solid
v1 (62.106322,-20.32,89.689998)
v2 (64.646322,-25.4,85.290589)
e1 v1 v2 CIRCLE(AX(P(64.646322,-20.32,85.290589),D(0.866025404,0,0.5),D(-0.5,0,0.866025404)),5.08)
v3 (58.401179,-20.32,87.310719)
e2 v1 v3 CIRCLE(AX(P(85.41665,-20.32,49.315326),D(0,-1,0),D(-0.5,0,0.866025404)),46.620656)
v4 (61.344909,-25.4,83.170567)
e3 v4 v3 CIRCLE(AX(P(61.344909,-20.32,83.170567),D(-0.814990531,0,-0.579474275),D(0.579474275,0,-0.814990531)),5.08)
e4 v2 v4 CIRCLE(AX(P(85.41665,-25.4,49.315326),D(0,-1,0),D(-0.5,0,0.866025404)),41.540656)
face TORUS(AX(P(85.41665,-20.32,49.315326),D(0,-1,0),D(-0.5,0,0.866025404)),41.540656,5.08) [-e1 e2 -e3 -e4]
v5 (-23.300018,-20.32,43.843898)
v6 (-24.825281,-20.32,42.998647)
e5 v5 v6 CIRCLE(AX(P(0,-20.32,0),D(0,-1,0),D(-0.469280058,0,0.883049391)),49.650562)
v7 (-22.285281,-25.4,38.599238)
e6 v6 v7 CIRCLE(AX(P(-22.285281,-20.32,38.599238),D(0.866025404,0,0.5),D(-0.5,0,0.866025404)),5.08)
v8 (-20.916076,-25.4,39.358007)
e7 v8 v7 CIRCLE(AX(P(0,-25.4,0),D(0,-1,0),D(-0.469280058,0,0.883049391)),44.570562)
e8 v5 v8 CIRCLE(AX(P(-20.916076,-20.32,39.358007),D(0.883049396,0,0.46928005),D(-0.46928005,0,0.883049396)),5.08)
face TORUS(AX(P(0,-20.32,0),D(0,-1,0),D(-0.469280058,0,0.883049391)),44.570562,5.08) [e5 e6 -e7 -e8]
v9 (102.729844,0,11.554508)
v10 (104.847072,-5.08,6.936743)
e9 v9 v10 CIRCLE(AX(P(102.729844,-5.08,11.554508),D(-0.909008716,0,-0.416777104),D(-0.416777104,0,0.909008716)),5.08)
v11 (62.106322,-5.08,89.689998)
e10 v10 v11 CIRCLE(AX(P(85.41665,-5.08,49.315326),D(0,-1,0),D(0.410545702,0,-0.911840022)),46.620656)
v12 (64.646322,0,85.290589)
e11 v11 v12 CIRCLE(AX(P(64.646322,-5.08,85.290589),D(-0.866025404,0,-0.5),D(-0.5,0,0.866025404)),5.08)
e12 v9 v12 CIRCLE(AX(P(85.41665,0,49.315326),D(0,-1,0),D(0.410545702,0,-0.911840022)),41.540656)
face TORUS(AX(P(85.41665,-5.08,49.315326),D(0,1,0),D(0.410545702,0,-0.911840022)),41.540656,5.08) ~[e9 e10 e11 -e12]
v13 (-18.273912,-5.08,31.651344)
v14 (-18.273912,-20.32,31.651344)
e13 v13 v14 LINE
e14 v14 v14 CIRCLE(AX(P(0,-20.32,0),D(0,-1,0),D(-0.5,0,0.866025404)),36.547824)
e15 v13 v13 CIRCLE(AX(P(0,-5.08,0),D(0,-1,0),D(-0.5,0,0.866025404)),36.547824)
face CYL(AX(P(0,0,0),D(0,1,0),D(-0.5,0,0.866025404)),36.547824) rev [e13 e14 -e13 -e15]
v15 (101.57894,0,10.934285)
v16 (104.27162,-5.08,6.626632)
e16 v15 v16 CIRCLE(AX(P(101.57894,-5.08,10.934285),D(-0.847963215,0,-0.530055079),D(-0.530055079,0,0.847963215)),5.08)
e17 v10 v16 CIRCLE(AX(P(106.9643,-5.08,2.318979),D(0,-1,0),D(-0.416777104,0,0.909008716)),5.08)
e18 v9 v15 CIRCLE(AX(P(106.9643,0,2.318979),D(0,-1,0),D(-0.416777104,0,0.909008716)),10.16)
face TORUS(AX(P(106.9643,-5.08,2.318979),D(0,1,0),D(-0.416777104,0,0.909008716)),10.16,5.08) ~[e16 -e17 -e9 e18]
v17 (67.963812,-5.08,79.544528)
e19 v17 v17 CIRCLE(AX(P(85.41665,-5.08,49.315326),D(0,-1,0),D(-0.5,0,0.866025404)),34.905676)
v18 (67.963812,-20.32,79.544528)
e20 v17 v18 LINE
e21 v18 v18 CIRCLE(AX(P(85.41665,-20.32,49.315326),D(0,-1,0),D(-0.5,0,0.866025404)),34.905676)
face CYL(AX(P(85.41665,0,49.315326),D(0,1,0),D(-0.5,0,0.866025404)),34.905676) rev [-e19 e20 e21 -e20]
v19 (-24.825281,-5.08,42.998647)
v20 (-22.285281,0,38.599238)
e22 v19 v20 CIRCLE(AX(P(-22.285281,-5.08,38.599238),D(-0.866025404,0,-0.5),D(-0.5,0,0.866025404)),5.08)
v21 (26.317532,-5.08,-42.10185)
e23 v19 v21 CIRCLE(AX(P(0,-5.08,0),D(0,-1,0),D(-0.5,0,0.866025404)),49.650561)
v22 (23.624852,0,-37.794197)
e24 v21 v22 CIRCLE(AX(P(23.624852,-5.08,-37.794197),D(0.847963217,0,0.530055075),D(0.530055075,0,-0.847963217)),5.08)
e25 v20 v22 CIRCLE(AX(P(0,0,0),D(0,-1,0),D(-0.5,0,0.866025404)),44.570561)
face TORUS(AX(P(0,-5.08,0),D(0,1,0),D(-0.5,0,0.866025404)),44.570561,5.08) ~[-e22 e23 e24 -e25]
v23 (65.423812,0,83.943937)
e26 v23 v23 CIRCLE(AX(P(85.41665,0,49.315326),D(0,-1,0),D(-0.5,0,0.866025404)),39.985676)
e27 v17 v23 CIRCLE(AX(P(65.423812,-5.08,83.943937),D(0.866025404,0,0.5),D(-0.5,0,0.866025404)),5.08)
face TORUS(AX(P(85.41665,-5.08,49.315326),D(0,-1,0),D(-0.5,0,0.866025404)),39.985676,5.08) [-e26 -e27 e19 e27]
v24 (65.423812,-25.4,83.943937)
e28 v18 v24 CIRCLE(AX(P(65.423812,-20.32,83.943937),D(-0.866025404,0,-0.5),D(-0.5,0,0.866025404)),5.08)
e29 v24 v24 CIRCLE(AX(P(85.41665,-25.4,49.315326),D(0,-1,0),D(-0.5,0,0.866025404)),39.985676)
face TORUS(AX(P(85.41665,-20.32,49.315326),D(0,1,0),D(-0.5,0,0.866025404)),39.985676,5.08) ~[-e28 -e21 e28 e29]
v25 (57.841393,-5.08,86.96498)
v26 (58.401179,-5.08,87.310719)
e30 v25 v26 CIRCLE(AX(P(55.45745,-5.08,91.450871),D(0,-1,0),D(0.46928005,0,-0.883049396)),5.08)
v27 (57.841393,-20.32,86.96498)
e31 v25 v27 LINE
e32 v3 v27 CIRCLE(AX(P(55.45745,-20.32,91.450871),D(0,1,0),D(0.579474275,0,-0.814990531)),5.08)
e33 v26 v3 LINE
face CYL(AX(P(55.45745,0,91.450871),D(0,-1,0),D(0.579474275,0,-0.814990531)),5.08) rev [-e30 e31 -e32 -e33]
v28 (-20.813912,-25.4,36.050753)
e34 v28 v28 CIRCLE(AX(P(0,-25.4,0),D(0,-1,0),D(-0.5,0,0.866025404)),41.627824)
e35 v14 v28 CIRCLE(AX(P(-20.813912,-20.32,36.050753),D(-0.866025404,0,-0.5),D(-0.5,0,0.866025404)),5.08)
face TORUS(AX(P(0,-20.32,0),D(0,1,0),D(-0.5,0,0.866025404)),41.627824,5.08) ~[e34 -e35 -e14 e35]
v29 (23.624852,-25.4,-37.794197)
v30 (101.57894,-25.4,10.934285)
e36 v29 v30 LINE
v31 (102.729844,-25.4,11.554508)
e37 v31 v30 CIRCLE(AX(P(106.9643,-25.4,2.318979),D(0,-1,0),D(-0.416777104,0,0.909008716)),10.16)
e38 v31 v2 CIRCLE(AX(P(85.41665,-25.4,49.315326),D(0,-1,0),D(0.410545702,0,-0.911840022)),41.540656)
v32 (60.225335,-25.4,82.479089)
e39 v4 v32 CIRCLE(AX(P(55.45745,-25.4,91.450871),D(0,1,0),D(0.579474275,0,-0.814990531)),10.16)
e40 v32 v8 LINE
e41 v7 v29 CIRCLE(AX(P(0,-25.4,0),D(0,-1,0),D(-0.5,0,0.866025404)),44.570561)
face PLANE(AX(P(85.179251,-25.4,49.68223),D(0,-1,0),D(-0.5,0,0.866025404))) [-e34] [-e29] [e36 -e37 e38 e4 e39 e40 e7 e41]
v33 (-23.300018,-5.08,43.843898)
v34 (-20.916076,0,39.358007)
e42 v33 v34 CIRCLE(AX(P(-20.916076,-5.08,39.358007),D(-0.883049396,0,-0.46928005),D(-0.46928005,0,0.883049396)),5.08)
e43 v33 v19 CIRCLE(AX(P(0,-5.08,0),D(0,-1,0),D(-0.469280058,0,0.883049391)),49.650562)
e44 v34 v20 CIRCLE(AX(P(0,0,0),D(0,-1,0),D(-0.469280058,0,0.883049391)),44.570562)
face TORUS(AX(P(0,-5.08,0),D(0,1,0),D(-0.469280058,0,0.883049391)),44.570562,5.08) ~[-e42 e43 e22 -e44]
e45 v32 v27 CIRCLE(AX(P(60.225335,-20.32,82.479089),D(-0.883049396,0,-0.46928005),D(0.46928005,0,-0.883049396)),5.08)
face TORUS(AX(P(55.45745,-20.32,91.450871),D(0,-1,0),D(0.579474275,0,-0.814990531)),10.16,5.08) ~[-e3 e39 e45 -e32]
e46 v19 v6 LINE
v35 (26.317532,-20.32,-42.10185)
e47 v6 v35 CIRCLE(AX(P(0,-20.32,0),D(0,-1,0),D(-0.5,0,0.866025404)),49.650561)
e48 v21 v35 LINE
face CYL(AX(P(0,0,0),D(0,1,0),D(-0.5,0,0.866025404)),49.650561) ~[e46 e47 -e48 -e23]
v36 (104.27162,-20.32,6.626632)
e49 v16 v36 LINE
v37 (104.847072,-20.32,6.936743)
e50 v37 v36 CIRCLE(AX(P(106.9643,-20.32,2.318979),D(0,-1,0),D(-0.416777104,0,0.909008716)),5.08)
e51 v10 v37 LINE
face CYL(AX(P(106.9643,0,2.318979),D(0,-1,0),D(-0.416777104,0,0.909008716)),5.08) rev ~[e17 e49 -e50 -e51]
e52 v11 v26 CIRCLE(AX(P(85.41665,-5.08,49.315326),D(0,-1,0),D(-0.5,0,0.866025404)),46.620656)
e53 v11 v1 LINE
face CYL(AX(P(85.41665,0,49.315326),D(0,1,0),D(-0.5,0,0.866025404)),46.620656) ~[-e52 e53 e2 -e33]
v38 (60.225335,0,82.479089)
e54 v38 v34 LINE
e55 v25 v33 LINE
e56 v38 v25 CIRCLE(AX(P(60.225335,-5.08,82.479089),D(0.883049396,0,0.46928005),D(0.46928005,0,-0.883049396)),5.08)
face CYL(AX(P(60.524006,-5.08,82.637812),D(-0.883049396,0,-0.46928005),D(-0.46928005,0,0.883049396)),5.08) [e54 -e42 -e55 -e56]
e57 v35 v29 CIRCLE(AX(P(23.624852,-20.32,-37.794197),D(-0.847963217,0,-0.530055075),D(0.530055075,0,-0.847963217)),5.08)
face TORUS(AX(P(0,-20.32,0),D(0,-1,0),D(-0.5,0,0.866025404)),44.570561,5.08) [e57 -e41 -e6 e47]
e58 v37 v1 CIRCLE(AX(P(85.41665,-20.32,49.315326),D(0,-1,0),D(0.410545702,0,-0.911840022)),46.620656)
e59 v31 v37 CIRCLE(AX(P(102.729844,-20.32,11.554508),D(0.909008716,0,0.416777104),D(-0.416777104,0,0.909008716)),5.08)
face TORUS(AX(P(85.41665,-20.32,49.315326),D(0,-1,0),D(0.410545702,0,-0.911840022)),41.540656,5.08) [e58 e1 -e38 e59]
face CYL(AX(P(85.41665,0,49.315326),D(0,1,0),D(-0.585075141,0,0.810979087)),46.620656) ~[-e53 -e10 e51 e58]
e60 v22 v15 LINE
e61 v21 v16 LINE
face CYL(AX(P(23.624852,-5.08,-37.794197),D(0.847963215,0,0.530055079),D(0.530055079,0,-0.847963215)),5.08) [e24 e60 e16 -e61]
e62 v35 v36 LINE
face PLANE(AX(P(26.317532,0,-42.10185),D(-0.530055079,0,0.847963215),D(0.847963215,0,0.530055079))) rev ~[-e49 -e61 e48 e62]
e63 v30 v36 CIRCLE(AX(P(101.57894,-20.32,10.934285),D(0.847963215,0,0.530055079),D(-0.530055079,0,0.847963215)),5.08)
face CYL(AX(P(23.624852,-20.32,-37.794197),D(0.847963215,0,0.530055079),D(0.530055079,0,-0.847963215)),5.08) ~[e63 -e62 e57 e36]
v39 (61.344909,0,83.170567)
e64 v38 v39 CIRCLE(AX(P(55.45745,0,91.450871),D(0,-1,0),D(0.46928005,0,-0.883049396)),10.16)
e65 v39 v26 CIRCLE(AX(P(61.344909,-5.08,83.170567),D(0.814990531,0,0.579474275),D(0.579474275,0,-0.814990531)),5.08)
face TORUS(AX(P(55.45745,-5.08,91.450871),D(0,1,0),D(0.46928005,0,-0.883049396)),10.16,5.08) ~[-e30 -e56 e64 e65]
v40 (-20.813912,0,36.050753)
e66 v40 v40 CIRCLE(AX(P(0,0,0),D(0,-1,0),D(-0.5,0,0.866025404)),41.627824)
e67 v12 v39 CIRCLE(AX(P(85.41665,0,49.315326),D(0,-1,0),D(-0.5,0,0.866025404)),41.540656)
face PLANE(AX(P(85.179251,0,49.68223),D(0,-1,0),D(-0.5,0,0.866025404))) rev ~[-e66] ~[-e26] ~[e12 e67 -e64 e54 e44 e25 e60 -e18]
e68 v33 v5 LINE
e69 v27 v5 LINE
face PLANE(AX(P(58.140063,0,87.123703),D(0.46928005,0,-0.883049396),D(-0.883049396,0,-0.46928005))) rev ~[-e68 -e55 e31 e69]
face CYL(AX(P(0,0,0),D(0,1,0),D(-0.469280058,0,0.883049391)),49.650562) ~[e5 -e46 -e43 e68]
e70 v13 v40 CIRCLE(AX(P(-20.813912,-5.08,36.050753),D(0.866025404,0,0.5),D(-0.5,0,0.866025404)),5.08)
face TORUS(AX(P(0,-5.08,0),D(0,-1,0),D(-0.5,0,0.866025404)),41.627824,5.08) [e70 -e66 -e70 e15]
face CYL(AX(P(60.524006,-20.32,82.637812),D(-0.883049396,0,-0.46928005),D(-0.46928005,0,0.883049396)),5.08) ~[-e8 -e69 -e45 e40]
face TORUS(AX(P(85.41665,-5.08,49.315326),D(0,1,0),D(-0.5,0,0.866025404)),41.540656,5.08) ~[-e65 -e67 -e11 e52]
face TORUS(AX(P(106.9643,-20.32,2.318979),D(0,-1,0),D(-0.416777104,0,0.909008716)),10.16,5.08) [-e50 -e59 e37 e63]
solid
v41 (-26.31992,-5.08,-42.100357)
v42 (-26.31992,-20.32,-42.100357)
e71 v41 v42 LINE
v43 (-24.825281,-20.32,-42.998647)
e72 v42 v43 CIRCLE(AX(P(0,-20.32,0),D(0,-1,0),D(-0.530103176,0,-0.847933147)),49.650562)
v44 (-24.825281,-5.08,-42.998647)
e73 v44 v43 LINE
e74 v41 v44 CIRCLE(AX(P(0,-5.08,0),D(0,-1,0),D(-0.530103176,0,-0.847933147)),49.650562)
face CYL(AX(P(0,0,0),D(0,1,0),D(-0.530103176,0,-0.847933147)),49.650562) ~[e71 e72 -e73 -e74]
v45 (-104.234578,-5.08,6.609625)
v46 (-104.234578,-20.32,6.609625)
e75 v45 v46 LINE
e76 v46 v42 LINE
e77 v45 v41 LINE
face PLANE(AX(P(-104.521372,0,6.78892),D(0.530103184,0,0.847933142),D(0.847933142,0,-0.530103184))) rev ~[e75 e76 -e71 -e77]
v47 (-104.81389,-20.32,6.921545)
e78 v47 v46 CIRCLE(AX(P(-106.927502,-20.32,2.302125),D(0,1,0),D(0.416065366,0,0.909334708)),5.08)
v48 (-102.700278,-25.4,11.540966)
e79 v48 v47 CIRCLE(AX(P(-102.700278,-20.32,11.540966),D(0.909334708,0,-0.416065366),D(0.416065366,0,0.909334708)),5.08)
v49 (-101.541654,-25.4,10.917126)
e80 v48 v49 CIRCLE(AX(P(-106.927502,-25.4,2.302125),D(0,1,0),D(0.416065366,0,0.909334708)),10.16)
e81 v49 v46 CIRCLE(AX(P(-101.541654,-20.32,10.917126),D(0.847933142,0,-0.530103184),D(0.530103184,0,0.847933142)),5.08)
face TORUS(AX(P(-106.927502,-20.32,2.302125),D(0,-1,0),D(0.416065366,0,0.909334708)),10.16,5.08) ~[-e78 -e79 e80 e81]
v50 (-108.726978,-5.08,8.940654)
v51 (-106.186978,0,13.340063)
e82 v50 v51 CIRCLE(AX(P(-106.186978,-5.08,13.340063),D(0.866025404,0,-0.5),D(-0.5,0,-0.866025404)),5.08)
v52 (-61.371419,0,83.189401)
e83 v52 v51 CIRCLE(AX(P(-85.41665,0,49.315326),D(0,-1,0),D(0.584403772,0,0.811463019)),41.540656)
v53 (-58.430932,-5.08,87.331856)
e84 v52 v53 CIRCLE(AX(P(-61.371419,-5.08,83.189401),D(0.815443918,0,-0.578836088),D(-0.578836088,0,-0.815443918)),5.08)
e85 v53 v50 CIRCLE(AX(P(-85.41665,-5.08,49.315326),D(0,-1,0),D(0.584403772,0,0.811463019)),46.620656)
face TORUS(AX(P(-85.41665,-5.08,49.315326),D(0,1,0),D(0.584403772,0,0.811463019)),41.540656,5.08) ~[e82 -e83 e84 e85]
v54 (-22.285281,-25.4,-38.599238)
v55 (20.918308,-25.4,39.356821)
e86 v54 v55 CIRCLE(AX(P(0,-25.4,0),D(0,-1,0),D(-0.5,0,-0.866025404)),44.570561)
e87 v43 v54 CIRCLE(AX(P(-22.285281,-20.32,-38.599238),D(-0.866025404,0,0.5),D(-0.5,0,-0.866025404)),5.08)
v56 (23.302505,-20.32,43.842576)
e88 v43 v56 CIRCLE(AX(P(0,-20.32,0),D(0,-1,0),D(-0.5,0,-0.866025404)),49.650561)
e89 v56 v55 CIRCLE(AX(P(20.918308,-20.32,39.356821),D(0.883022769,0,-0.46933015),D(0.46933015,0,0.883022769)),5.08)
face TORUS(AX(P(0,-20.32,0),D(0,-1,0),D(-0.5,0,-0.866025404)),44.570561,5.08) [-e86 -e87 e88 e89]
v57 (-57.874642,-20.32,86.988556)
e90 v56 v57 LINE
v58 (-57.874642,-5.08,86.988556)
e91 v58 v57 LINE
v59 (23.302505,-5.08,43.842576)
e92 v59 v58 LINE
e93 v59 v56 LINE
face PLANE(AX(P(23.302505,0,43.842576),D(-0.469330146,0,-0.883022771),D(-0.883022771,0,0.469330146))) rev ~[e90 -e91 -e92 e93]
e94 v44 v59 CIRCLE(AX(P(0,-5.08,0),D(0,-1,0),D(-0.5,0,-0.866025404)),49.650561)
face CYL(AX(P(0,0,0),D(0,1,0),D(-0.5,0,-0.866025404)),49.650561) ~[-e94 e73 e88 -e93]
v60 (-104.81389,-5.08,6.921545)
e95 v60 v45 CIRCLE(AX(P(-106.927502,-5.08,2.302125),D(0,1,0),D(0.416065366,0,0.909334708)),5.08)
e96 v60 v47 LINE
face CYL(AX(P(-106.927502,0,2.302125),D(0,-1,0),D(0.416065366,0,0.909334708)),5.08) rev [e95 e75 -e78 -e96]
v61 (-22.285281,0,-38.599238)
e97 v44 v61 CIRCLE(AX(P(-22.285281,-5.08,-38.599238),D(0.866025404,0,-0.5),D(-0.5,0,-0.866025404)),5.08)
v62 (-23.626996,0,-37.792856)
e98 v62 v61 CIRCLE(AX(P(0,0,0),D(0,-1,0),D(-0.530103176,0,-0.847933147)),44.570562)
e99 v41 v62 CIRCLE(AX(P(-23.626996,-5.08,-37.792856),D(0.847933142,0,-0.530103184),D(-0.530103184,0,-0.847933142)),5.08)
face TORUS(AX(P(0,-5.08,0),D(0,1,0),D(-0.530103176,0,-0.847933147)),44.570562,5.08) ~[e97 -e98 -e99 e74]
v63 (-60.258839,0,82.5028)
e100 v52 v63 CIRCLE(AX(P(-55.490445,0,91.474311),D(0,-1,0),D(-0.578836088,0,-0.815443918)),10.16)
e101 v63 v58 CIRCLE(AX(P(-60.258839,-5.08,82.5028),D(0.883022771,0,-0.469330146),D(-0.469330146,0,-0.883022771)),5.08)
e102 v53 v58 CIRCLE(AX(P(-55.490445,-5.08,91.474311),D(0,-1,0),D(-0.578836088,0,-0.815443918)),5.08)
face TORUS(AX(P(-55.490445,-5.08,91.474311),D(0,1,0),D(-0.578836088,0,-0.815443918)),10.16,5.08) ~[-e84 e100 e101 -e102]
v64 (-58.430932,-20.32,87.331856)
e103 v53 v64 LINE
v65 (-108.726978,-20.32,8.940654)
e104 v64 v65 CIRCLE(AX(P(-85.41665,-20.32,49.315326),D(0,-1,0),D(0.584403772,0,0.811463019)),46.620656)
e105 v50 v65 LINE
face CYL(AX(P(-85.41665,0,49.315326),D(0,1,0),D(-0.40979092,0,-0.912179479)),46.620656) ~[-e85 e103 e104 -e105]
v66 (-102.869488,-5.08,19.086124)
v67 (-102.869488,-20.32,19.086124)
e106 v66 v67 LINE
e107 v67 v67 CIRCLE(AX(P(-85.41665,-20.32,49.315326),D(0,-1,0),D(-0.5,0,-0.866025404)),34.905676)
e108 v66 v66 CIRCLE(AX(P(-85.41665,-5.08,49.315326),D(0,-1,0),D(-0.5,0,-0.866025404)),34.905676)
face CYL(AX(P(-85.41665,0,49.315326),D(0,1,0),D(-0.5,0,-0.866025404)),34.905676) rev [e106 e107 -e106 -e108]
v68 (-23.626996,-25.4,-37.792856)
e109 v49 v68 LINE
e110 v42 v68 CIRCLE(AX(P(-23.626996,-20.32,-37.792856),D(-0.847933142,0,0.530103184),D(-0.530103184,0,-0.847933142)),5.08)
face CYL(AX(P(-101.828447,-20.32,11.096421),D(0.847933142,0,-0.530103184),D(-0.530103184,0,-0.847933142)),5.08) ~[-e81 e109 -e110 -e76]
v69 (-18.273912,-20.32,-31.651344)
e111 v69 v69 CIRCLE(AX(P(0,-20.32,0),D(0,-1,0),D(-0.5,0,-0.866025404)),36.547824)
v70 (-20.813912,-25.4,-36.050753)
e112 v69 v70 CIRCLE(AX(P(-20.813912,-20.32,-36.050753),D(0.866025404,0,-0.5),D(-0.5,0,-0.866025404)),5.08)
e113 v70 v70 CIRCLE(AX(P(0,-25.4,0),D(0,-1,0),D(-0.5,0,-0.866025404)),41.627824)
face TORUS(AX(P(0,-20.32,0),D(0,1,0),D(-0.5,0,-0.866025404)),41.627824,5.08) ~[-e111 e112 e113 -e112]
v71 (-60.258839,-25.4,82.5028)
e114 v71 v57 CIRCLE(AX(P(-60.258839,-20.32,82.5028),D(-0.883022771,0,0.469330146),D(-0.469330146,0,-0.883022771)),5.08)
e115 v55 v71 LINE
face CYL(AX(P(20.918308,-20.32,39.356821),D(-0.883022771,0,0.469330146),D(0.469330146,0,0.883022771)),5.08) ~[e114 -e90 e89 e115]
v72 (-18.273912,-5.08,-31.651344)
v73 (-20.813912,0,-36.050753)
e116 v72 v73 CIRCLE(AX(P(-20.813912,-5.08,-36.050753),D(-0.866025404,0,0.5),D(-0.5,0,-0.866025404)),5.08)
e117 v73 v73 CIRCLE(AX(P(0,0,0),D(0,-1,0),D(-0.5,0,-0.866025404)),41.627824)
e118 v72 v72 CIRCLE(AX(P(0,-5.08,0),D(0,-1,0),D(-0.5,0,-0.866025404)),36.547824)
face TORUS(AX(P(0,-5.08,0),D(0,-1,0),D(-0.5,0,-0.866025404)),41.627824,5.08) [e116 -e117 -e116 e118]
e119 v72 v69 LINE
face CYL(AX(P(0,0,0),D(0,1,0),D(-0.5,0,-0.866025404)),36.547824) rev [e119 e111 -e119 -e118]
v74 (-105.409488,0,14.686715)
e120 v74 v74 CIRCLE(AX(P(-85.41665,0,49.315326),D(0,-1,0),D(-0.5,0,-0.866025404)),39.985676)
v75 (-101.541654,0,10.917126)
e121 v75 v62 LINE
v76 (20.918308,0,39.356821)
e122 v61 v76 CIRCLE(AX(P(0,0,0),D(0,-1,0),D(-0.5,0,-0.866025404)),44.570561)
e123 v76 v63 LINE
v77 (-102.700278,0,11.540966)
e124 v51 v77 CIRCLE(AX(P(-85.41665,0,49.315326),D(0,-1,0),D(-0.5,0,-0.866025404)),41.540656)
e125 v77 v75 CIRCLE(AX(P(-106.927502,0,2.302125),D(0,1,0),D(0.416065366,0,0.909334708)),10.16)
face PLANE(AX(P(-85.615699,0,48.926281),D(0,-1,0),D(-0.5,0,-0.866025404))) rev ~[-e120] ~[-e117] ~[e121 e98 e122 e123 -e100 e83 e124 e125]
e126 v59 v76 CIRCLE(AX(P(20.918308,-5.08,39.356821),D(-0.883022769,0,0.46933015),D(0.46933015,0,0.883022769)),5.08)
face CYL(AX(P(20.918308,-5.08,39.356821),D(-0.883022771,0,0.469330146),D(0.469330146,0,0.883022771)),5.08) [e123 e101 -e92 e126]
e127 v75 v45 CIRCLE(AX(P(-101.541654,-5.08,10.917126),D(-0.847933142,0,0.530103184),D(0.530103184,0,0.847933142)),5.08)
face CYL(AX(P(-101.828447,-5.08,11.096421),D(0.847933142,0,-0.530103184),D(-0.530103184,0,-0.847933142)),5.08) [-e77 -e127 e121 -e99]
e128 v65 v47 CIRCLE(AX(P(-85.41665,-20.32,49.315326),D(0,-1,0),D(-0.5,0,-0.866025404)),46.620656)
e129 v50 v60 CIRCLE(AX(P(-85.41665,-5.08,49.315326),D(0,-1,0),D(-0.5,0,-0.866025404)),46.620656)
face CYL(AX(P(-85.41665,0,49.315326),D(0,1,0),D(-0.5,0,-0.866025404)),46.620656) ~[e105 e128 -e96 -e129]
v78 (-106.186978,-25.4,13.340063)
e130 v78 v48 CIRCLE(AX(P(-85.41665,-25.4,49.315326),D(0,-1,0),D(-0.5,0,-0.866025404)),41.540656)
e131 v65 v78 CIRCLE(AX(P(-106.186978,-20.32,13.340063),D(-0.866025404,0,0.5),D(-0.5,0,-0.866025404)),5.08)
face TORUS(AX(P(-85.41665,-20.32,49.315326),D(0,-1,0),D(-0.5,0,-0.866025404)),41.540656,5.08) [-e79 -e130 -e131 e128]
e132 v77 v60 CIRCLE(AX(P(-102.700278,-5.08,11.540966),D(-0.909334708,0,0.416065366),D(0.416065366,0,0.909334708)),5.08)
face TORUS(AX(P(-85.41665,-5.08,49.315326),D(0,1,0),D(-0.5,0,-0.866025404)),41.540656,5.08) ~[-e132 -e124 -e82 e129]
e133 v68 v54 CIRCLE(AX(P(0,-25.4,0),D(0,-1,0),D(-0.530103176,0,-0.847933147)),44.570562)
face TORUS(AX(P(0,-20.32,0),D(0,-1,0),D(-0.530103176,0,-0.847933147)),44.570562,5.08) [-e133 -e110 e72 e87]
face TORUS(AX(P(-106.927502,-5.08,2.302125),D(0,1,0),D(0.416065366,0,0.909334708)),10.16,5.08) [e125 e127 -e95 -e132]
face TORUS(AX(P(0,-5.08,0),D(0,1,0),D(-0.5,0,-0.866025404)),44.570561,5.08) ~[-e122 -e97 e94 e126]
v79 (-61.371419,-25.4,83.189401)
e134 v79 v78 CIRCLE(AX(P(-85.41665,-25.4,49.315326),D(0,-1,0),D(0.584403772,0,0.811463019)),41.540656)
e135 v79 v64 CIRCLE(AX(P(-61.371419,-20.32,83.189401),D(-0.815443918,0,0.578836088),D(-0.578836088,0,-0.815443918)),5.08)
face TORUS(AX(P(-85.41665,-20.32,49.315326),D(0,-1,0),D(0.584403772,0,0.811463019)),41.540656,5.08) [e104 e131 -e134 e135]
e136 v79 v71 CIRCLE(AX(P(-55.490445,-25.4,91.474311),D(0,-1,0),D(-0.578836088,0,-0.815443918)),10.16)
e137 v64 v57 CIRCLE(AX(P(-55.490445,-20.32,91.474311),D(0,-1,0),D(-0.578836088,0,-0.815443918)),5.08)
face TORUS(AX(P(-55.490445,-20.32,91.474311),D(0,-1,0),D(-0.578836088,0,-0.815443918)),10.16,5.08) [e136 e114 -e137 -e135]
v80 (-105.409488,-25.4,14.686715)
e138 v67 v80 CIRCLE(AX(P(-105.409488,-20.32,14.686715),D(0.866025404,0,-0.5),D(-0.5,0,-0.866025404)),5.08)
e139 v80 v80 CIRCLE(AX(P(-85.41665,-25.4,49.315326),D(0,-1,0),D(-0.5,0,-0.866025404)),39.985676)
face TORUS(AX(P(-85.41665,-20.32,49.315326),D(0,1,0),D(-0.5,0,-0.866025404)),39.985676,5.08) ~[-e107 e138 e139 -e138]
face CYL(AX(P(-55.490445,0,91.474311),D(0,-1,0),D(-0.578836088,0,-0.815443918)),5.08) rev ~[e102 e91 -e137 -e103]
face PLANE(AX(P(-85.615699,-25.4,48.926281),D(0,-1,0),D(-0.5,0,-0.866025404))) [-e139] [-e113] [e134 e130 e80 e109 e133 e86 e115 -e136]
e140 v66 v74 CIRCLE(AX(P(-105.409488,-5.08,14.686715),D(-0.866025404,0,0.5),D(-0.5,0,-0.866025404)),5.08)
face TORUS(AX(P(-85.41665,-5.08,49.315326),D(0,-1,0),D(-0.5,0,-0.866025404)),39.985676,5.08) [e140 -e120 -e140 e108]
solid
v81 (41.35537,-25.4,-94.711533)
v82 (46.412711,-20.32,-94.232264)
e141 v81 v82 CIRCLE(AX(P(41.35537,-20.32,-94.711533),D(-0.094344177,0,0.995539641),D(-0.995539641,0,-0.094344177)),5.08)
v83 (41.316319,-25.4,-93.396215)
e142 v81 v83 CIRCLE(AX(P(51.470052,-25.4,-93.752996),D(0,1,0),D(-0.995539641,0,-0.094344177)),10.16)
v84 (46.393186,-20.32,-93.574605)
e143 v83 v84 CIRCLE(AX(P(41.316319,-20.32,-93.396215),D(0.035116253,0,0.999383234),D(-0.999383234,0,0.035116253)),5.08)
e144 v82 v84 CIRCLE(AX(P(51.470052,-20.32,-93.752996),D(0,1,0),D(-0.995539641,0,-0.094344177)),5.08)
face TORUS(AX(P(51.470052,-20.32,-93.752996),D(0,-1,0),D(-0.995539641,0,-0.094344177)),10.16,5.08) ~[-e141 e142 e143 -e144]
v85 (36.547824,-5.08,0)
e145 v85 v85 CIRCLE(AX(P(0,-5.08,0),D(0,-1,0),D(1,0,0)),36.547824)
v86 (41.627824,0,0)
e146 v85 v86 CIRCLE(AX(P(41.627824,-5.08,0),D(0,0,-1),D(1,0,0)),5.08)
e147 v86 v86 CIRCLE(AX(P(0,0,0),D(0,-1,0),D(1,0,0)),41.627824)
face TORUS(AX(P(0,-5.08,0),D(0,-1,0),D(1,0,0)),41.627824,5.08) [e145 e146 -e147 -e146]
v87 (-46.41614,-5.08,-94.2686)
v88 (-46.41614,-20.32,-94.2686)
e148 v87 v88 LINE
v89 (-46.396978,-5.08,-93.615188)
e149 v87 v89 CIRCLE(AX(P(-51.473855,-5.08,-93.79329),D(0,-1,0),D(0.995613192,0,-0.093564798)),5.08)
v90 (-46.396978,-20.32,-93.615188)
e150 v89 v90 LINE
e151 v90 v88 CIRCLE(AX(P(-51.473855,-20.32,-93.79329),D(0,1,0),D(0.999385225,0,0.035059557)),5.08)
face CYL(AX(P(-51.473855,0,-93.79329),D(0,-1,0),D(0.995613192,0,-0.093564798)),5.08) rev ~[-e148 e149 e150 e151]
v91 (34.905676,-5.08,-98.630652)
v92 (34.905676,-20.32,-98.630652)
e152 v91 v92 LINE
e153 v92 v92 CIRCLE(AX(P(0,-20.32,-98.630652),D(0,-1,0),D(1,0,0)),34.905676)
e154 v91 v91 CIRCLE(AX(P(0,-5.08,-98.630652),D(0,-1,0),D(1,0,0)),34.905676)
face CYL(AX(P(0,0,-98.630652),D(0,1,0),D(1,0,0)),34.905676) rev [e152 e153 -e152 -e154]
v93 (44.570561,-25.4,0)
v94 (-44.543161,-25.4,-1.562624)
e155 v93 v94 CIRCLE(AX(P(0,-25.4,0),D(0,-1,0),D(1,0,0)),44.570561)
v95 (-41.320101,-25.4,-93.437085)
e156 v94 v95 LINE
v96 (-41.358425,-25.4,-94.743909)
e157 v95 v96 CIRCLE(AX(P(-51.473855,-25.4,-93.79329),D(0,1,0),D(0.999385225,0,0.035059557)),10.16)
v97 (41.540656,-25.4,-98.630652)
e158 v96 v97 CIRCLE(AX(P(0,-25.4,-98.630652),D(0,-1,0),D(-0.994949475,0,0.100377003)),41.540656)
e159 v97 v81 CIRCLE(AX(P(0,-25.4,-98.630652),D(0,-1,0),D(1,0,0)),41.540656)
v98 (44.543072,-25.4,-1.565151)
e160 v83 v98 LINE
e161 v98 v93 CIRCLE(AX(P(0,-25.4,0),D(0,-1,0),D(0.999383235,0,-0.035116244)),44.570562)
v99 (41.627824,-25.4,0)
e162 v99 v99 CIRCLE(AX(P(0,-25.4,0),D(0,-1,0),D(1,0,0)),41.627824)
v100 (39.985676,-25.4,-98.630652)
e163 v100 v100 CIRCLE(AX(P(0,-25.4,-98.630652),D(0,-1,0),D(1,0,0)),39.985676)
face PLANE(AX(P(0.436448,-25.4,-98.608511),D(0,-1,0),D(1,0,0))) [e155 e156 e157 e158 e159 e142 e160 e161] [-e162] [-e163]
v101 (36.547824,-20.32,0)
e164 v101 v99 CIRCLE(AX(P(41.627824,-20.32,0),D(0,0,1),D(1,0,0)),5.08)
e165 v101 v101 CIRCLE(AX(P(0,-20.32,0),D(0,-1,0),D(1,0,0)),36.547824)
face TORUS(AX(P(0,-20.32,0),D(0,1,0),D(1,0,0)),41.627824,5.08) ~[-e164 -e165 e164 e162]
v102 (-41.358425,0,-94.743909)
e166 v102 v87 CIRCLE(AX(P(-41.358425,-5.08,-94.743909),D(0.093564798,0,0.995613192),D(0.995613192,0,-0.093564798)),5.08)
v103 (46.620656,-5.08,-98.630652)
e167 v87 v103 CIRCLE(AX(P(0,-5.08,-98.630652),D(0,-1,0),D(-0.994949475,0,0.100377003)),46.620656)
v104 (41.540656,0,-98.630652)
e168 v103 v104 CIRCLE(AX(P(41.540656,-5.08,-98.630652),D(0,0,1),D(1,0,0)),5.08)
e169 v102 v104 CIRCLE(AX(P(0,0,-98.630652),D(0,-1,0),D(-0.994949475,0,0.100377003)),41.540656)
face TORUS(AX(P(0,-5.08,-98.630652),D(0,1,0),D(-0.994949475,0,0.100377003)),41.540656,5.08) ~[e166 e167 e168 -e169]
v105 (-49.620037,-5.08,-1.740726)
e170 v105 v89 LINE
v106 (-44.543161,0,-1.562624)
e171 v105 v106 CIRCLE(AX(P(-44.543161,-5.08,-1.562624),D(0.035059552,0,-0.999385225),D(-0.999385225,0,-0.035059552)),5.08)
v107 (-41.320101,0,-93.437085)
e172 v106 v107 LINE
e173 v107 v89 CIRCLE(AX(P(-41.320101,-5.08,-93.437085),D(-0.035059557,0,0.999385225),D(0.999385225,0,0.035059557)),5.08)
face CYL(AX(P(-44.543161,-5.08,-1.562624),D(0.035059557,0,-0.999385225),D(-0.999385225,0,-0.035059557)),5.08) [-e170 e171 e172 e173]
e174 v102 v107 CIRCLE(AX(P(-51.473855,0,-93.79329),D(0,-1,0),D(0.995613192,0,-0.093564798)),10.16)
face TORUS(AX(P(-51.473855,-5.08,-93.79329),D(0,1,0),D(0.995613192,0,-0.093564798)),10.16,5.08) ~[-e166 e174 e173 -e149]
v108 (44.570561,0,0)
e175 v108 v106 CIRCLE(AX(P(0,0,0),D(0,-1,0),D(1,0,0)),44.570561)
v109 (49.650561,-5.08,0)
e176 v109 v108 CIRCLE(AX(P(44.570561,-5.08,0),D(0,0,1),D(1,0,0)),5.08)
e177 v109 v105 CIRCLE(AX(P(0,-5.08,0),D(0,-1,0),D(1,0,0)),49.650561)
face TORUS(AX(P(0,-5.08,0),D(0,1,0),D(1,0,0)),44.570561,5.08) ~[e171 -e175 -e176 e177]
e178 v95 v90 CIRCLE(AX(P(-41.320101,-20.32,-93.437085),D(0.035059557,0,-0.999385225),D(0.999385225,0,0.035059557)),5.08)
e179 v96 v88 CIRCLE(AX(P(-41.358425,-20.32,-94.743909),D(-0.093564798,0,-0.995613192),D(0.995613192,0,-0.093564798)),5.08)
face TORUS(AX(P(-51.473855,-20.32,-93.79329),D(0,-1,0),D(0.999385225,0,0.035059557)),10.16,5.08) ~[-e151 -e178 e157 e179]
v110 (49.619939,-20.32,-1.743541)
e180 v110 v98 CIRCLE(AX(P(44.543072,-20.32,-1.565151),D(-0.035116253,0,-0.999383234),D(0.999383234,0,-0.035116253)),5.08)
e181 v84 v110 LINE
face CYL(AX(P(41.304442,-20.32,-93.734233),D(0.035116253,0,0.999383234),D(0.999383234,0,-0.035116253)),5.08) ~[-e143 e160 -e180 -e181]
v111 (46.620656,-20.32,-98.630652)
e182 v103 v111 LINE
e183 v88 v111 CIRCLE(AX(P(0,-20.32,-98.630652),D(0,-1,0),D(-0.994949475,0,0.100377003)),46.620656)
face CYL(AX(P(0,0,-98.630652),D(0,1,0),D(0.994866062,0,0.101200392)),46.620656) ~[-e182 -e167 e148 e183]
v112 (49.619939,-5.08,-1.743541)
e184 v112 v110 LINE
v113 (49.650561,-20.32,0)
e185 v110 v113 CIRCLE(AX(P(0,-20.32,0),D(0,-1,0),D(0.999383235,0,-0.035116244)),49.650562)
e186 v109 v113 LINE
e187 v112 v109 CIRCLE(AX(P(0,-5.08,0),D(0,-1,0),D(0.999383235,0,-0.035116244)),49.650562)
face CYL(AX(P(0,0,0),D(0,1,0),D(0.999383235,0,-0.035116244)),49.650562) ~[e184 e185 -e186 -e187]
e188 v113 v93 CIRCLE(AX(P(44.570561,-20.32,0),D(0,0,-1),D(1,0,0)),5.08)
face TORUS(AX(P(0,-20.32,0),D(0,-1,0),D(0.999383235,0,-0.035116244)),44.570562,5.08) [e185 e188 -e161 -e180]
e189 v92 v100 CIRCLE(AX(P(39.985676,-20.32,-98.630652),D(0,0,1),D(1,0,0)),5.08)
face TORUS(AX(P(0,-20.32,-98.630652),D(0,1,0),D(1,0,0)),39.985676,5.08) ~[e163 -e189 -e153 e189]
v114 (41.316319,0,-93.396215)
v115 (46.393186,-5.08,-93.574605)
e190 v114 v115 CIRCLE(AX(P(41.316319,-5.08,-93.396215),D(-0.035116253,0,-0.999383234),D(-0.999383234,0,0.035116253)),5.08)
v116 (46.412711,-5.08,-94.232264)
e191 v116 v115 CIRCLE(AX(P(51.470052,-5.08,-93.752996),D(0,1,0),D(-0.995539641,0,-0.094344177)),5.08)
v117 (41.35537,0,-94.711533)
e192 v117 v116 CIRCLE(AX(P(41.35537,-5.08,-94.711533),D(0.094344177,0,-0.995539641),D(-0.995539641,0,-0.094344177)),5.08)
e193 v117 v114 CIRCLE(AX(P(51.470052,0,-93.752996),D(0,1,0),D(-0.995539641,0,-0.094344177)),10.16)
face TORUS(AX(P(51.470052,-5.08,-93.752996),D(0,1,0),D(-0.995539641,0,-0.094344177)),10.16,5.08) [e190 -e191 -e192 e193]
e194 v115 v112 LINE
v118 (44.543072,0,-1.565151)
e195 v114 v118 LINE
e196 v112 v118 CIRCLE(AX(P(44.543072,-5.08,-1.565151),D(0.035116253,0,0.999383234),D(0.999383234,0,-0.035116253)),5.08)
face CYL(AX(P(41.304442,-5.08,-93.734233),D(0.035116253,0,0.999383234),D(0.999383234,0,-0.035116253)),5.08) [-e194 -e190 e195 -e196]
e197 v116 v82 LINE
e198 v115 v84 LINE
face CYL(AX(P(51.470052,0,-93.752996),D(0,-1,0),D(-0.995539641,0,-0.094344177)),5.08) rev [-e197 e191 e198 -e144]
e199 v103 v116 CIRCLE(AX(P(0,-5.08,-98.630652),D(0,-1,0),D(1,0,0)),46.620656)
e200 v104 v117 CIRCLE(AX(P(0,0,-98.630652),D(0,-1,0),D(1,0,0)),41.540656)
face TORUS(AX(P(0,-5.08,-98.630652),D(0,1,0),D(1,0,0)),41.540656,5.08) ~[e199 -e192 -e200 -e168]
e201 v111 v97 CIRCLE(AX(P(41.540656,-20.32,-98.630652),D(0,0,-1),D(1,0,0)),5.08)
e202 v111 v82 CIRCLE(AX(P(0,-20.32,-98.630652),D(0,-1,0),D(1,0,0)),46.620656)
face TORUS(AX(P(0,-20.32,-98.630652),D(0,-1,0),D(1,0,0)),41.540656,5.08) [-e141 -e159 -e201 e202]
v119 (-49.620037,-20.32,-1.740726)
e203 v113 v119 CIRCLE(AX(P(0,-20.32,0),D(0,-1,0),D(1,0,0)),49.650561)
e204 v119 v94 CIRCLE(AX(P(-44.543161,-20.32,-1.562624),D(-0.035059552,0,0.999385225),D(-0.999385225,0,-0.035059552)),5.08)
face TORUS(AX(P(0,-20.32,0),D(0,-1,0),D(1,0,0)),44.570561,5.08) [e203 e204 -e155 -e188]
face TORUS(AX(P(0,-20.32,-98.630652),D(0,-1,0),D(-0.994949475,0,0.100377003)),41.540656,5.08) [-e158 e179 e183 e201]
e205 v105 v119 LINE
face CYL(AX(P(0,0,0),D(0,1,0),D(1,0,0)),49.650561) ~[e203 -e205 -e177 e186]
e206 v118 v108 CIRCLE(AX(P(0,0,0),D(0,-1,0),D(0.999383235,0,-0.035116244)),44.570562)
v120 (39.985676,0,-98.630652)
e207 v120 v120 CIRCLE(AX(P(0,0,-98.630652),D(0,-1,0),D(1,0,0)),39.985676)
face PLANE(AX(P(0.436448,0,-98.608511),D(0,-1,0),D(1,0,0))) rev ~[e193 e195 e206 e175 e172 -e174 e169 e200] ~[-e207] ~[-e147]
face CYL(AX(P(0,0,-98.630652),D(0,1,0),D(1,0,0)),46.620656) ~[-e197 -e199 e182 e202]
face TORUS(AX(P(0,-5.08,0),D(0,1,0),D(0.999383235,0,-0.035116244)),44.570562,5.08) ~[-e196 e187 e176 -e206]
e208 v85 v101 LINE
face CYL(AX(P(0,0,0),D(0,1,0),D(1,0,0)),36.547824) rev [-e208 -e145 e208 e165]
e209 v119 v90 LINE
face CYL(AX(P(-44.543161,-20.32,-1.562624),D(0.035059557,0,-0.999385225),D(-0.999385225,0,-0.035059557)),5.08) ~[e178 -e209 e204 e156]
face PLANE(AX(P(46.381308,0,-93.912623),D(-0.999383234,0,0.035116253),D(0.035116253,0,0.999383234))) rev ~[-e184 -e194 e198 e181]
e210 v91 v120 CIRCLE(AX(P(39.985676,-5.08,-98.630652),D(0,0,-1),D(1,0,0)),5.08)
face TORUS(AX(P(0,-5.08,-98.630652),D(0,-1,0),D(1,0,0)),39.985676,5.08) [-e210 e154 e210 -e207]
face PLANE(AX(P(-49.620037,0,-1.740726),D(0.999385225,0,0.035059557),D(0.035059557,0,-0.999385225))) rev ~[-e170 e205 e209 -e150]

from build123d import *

# Parameters (mm, degrees)
F0_R     = 34.9056757034
F0_R_2   = 36.547824198
F1_DEPTH = 25.4
F2_COUNT = 3
F3_R     = 5.08
F3_2_R   = 5.08
F3_3_R   = 5.08


with BuildPart() as f1:
    # F0 (on Front) → F1 (new body)
    with BuildSketch(Plane.XZ):
        with BuildLine():
            ThreePointArc((46.3813083608, -93.9126231618), (-0.0192916995, -52.0099998884), (-46.3851971316, -93.9510100884))
            ThreePointArc((-46.3851971316, -93.9510100884), (-2.3427808099, -145.1924058564), (46.6206559347, -98.6306518316))
            ThreePointArc((46.6206559347, -98.6306518316), (46.560780592, -96.2686038965), (46.3813083608, -93.9126231618))
        make_face()
        with Locations((0, -98.6306518316)):
            Circle(F0_R, mode=Mode.SUBTRACT)
        with BuildLine():
            ThreePointArc((49.6199386587, -1.7435412123), (49.6429051328, -0.8719050568), (49.6505614113, 0))
            ThreePointArc((49.6505614113, 0), (-0.8704970211, 49.642929843), (-49.620037484, -1.7407264417))
            ThreePointArc((-49.620037484, -1.7407264417), (-0.0014082525, -49.6505613913), (49.6199386587, -1.7435412123))
        make_face()
        Circle(F0_R_2, mode=Mode.SUBTRACT)
        with BuildLine():
            ThreePointArc((49.6199386587, -1.7435412123), (-0.0014082525, -49.6505613913), (-49.620037484, -1.7407264417))
            Line((-49.620037484, -1.7407264417), (-46.3851971316, -93.9510100884))
            ThreePointArc((-46.3851971316, -93.9510100884), (-0.0192916995, -52.0099998884), (46.3813083608, -93.9126231618))
            Line((46.3813083608, -93.9126231618), (49.6199386587, -1.7435412123))
        make_face()
    extrude(amount=F1_DEPTH)


with BuildPart() as f2_1:
    # F2: instance of F1
    add(f1.part.rotate(Axis((0, -25.4, 0), (0, -1, 0)), 1 * 360 / F2_COUNT))

    # F3#2
    f3_2_edges = [f2_1.edges().sort_by_distance(p)[0] for p in [
        (102.869488, 0, 19.086124),
        (-23.300018, -12.7, 43.843898),
        (26.317532, -12.7, -42.10185),
        (-42.999352, 0, -24.824061),
        (-42.999352, -25.4, -24.824061),
        (18.273912, 0, -31.651344),
        (104.55656, -12.7, 6.804746),
        (65.437046, 0, -17.648552),
        (65.437046, -25.4, -17.648552),
        (17.420022, 0, 65.4838),
        (125.781673, 0, 72.642359),
        (17.420022, -25.4, 65.4838),
        (-18.273912, -12.7, 31.651344),
        (18.273912, -25.4, -31.651344),
        (58.140063, -12.7, 87.123703),
        (102.869488, -25.4, 19.086124),
        (125.781673, -25.4, 72.642359),
        (67.963812, -12.7, 79.544528),
    ]]
    fillet(f3_2_edges, radius=F3_2_R)


with BuildPart() as f2_2:
    # F2: instance of F1
    add(f1.part.rotate(Axis((0, -25.4, 0), (0, -1, 0)), 2 * 360 / F2_COUNT))

    # F3
    f3_edges = [f2_2.edges().sort_by_distance(p)[0] for p in [
        (-67.963812, 0, 79.544528),
        (-125.800965, 0, 72.608945),
        (-125.800965, -25.4, 72.608945),
        (-17.434429, 0, 65.49442),
        (-26.31992, -12.7, -42.100357),
        (18.273912, -25.4, 31.651344),
        (42.997943, -25.4, -24.8265),
        (-67.963812, -25.4, 79.544528),
        (-104.521372, -12.7, 6.78892),
        (23.302505, -12.7, 43.842576),
        (-58.171363, -12.7, 87.146264),
        (-17.434429, -25.4, 65.49442),
        (-102.869488, -12.7, 19.086124),
        (-65.420646, 0, -17.655718),
        (42.997943, 0, -24.8265),
        (18.273912, 0, 31.651344),
        (-18.273912, -12.7, -31.651344),
        (-65.420646, -25.4, -17.655718),
    ]]
    fillet(f3_edges, radius=F3_R)


with BuildPart() as f1_1:
    add(f1.part)

    # F3#3
    f3_3_edges = [f1_1.edges().sort_by_distance(p)[0] for p in [
        (34.905676, -12.7, -98.630652),
        (-34.905676, 0, -98.630652),
        (-34.905676, -25.4, -98.630652),
        (-49.620037, -12.7, -1.740726),
        (49.619939, -12.7, -1.743541),
        (0.001408, 0, 49.650561),
        (0.001408, -25.4, 49.650561),
        (46.381308, -12.7, -93.912623),
        (-36.547824, 0, 0),
        (-36.547824, -25.4, 0),
        (48.000624, 0, -47.828082),
        (0.019292, -25.4, -145.251304),
        (48.000624, -25.4, -47.828082),
        (-48.002617, -25.4, -47.845868),
        (-48.002617, 0, -47.845868),
        (-46.385197, -12.7, -93.95101),
        (0.019292, 0, -145.251304),
        (36.547824, -12.7, 0),
    ]]
    fillet(f3_3_edges, radius=F3_3_R)


solid = Compound([f2_1.part, f2_2.part, f1_1.part])
